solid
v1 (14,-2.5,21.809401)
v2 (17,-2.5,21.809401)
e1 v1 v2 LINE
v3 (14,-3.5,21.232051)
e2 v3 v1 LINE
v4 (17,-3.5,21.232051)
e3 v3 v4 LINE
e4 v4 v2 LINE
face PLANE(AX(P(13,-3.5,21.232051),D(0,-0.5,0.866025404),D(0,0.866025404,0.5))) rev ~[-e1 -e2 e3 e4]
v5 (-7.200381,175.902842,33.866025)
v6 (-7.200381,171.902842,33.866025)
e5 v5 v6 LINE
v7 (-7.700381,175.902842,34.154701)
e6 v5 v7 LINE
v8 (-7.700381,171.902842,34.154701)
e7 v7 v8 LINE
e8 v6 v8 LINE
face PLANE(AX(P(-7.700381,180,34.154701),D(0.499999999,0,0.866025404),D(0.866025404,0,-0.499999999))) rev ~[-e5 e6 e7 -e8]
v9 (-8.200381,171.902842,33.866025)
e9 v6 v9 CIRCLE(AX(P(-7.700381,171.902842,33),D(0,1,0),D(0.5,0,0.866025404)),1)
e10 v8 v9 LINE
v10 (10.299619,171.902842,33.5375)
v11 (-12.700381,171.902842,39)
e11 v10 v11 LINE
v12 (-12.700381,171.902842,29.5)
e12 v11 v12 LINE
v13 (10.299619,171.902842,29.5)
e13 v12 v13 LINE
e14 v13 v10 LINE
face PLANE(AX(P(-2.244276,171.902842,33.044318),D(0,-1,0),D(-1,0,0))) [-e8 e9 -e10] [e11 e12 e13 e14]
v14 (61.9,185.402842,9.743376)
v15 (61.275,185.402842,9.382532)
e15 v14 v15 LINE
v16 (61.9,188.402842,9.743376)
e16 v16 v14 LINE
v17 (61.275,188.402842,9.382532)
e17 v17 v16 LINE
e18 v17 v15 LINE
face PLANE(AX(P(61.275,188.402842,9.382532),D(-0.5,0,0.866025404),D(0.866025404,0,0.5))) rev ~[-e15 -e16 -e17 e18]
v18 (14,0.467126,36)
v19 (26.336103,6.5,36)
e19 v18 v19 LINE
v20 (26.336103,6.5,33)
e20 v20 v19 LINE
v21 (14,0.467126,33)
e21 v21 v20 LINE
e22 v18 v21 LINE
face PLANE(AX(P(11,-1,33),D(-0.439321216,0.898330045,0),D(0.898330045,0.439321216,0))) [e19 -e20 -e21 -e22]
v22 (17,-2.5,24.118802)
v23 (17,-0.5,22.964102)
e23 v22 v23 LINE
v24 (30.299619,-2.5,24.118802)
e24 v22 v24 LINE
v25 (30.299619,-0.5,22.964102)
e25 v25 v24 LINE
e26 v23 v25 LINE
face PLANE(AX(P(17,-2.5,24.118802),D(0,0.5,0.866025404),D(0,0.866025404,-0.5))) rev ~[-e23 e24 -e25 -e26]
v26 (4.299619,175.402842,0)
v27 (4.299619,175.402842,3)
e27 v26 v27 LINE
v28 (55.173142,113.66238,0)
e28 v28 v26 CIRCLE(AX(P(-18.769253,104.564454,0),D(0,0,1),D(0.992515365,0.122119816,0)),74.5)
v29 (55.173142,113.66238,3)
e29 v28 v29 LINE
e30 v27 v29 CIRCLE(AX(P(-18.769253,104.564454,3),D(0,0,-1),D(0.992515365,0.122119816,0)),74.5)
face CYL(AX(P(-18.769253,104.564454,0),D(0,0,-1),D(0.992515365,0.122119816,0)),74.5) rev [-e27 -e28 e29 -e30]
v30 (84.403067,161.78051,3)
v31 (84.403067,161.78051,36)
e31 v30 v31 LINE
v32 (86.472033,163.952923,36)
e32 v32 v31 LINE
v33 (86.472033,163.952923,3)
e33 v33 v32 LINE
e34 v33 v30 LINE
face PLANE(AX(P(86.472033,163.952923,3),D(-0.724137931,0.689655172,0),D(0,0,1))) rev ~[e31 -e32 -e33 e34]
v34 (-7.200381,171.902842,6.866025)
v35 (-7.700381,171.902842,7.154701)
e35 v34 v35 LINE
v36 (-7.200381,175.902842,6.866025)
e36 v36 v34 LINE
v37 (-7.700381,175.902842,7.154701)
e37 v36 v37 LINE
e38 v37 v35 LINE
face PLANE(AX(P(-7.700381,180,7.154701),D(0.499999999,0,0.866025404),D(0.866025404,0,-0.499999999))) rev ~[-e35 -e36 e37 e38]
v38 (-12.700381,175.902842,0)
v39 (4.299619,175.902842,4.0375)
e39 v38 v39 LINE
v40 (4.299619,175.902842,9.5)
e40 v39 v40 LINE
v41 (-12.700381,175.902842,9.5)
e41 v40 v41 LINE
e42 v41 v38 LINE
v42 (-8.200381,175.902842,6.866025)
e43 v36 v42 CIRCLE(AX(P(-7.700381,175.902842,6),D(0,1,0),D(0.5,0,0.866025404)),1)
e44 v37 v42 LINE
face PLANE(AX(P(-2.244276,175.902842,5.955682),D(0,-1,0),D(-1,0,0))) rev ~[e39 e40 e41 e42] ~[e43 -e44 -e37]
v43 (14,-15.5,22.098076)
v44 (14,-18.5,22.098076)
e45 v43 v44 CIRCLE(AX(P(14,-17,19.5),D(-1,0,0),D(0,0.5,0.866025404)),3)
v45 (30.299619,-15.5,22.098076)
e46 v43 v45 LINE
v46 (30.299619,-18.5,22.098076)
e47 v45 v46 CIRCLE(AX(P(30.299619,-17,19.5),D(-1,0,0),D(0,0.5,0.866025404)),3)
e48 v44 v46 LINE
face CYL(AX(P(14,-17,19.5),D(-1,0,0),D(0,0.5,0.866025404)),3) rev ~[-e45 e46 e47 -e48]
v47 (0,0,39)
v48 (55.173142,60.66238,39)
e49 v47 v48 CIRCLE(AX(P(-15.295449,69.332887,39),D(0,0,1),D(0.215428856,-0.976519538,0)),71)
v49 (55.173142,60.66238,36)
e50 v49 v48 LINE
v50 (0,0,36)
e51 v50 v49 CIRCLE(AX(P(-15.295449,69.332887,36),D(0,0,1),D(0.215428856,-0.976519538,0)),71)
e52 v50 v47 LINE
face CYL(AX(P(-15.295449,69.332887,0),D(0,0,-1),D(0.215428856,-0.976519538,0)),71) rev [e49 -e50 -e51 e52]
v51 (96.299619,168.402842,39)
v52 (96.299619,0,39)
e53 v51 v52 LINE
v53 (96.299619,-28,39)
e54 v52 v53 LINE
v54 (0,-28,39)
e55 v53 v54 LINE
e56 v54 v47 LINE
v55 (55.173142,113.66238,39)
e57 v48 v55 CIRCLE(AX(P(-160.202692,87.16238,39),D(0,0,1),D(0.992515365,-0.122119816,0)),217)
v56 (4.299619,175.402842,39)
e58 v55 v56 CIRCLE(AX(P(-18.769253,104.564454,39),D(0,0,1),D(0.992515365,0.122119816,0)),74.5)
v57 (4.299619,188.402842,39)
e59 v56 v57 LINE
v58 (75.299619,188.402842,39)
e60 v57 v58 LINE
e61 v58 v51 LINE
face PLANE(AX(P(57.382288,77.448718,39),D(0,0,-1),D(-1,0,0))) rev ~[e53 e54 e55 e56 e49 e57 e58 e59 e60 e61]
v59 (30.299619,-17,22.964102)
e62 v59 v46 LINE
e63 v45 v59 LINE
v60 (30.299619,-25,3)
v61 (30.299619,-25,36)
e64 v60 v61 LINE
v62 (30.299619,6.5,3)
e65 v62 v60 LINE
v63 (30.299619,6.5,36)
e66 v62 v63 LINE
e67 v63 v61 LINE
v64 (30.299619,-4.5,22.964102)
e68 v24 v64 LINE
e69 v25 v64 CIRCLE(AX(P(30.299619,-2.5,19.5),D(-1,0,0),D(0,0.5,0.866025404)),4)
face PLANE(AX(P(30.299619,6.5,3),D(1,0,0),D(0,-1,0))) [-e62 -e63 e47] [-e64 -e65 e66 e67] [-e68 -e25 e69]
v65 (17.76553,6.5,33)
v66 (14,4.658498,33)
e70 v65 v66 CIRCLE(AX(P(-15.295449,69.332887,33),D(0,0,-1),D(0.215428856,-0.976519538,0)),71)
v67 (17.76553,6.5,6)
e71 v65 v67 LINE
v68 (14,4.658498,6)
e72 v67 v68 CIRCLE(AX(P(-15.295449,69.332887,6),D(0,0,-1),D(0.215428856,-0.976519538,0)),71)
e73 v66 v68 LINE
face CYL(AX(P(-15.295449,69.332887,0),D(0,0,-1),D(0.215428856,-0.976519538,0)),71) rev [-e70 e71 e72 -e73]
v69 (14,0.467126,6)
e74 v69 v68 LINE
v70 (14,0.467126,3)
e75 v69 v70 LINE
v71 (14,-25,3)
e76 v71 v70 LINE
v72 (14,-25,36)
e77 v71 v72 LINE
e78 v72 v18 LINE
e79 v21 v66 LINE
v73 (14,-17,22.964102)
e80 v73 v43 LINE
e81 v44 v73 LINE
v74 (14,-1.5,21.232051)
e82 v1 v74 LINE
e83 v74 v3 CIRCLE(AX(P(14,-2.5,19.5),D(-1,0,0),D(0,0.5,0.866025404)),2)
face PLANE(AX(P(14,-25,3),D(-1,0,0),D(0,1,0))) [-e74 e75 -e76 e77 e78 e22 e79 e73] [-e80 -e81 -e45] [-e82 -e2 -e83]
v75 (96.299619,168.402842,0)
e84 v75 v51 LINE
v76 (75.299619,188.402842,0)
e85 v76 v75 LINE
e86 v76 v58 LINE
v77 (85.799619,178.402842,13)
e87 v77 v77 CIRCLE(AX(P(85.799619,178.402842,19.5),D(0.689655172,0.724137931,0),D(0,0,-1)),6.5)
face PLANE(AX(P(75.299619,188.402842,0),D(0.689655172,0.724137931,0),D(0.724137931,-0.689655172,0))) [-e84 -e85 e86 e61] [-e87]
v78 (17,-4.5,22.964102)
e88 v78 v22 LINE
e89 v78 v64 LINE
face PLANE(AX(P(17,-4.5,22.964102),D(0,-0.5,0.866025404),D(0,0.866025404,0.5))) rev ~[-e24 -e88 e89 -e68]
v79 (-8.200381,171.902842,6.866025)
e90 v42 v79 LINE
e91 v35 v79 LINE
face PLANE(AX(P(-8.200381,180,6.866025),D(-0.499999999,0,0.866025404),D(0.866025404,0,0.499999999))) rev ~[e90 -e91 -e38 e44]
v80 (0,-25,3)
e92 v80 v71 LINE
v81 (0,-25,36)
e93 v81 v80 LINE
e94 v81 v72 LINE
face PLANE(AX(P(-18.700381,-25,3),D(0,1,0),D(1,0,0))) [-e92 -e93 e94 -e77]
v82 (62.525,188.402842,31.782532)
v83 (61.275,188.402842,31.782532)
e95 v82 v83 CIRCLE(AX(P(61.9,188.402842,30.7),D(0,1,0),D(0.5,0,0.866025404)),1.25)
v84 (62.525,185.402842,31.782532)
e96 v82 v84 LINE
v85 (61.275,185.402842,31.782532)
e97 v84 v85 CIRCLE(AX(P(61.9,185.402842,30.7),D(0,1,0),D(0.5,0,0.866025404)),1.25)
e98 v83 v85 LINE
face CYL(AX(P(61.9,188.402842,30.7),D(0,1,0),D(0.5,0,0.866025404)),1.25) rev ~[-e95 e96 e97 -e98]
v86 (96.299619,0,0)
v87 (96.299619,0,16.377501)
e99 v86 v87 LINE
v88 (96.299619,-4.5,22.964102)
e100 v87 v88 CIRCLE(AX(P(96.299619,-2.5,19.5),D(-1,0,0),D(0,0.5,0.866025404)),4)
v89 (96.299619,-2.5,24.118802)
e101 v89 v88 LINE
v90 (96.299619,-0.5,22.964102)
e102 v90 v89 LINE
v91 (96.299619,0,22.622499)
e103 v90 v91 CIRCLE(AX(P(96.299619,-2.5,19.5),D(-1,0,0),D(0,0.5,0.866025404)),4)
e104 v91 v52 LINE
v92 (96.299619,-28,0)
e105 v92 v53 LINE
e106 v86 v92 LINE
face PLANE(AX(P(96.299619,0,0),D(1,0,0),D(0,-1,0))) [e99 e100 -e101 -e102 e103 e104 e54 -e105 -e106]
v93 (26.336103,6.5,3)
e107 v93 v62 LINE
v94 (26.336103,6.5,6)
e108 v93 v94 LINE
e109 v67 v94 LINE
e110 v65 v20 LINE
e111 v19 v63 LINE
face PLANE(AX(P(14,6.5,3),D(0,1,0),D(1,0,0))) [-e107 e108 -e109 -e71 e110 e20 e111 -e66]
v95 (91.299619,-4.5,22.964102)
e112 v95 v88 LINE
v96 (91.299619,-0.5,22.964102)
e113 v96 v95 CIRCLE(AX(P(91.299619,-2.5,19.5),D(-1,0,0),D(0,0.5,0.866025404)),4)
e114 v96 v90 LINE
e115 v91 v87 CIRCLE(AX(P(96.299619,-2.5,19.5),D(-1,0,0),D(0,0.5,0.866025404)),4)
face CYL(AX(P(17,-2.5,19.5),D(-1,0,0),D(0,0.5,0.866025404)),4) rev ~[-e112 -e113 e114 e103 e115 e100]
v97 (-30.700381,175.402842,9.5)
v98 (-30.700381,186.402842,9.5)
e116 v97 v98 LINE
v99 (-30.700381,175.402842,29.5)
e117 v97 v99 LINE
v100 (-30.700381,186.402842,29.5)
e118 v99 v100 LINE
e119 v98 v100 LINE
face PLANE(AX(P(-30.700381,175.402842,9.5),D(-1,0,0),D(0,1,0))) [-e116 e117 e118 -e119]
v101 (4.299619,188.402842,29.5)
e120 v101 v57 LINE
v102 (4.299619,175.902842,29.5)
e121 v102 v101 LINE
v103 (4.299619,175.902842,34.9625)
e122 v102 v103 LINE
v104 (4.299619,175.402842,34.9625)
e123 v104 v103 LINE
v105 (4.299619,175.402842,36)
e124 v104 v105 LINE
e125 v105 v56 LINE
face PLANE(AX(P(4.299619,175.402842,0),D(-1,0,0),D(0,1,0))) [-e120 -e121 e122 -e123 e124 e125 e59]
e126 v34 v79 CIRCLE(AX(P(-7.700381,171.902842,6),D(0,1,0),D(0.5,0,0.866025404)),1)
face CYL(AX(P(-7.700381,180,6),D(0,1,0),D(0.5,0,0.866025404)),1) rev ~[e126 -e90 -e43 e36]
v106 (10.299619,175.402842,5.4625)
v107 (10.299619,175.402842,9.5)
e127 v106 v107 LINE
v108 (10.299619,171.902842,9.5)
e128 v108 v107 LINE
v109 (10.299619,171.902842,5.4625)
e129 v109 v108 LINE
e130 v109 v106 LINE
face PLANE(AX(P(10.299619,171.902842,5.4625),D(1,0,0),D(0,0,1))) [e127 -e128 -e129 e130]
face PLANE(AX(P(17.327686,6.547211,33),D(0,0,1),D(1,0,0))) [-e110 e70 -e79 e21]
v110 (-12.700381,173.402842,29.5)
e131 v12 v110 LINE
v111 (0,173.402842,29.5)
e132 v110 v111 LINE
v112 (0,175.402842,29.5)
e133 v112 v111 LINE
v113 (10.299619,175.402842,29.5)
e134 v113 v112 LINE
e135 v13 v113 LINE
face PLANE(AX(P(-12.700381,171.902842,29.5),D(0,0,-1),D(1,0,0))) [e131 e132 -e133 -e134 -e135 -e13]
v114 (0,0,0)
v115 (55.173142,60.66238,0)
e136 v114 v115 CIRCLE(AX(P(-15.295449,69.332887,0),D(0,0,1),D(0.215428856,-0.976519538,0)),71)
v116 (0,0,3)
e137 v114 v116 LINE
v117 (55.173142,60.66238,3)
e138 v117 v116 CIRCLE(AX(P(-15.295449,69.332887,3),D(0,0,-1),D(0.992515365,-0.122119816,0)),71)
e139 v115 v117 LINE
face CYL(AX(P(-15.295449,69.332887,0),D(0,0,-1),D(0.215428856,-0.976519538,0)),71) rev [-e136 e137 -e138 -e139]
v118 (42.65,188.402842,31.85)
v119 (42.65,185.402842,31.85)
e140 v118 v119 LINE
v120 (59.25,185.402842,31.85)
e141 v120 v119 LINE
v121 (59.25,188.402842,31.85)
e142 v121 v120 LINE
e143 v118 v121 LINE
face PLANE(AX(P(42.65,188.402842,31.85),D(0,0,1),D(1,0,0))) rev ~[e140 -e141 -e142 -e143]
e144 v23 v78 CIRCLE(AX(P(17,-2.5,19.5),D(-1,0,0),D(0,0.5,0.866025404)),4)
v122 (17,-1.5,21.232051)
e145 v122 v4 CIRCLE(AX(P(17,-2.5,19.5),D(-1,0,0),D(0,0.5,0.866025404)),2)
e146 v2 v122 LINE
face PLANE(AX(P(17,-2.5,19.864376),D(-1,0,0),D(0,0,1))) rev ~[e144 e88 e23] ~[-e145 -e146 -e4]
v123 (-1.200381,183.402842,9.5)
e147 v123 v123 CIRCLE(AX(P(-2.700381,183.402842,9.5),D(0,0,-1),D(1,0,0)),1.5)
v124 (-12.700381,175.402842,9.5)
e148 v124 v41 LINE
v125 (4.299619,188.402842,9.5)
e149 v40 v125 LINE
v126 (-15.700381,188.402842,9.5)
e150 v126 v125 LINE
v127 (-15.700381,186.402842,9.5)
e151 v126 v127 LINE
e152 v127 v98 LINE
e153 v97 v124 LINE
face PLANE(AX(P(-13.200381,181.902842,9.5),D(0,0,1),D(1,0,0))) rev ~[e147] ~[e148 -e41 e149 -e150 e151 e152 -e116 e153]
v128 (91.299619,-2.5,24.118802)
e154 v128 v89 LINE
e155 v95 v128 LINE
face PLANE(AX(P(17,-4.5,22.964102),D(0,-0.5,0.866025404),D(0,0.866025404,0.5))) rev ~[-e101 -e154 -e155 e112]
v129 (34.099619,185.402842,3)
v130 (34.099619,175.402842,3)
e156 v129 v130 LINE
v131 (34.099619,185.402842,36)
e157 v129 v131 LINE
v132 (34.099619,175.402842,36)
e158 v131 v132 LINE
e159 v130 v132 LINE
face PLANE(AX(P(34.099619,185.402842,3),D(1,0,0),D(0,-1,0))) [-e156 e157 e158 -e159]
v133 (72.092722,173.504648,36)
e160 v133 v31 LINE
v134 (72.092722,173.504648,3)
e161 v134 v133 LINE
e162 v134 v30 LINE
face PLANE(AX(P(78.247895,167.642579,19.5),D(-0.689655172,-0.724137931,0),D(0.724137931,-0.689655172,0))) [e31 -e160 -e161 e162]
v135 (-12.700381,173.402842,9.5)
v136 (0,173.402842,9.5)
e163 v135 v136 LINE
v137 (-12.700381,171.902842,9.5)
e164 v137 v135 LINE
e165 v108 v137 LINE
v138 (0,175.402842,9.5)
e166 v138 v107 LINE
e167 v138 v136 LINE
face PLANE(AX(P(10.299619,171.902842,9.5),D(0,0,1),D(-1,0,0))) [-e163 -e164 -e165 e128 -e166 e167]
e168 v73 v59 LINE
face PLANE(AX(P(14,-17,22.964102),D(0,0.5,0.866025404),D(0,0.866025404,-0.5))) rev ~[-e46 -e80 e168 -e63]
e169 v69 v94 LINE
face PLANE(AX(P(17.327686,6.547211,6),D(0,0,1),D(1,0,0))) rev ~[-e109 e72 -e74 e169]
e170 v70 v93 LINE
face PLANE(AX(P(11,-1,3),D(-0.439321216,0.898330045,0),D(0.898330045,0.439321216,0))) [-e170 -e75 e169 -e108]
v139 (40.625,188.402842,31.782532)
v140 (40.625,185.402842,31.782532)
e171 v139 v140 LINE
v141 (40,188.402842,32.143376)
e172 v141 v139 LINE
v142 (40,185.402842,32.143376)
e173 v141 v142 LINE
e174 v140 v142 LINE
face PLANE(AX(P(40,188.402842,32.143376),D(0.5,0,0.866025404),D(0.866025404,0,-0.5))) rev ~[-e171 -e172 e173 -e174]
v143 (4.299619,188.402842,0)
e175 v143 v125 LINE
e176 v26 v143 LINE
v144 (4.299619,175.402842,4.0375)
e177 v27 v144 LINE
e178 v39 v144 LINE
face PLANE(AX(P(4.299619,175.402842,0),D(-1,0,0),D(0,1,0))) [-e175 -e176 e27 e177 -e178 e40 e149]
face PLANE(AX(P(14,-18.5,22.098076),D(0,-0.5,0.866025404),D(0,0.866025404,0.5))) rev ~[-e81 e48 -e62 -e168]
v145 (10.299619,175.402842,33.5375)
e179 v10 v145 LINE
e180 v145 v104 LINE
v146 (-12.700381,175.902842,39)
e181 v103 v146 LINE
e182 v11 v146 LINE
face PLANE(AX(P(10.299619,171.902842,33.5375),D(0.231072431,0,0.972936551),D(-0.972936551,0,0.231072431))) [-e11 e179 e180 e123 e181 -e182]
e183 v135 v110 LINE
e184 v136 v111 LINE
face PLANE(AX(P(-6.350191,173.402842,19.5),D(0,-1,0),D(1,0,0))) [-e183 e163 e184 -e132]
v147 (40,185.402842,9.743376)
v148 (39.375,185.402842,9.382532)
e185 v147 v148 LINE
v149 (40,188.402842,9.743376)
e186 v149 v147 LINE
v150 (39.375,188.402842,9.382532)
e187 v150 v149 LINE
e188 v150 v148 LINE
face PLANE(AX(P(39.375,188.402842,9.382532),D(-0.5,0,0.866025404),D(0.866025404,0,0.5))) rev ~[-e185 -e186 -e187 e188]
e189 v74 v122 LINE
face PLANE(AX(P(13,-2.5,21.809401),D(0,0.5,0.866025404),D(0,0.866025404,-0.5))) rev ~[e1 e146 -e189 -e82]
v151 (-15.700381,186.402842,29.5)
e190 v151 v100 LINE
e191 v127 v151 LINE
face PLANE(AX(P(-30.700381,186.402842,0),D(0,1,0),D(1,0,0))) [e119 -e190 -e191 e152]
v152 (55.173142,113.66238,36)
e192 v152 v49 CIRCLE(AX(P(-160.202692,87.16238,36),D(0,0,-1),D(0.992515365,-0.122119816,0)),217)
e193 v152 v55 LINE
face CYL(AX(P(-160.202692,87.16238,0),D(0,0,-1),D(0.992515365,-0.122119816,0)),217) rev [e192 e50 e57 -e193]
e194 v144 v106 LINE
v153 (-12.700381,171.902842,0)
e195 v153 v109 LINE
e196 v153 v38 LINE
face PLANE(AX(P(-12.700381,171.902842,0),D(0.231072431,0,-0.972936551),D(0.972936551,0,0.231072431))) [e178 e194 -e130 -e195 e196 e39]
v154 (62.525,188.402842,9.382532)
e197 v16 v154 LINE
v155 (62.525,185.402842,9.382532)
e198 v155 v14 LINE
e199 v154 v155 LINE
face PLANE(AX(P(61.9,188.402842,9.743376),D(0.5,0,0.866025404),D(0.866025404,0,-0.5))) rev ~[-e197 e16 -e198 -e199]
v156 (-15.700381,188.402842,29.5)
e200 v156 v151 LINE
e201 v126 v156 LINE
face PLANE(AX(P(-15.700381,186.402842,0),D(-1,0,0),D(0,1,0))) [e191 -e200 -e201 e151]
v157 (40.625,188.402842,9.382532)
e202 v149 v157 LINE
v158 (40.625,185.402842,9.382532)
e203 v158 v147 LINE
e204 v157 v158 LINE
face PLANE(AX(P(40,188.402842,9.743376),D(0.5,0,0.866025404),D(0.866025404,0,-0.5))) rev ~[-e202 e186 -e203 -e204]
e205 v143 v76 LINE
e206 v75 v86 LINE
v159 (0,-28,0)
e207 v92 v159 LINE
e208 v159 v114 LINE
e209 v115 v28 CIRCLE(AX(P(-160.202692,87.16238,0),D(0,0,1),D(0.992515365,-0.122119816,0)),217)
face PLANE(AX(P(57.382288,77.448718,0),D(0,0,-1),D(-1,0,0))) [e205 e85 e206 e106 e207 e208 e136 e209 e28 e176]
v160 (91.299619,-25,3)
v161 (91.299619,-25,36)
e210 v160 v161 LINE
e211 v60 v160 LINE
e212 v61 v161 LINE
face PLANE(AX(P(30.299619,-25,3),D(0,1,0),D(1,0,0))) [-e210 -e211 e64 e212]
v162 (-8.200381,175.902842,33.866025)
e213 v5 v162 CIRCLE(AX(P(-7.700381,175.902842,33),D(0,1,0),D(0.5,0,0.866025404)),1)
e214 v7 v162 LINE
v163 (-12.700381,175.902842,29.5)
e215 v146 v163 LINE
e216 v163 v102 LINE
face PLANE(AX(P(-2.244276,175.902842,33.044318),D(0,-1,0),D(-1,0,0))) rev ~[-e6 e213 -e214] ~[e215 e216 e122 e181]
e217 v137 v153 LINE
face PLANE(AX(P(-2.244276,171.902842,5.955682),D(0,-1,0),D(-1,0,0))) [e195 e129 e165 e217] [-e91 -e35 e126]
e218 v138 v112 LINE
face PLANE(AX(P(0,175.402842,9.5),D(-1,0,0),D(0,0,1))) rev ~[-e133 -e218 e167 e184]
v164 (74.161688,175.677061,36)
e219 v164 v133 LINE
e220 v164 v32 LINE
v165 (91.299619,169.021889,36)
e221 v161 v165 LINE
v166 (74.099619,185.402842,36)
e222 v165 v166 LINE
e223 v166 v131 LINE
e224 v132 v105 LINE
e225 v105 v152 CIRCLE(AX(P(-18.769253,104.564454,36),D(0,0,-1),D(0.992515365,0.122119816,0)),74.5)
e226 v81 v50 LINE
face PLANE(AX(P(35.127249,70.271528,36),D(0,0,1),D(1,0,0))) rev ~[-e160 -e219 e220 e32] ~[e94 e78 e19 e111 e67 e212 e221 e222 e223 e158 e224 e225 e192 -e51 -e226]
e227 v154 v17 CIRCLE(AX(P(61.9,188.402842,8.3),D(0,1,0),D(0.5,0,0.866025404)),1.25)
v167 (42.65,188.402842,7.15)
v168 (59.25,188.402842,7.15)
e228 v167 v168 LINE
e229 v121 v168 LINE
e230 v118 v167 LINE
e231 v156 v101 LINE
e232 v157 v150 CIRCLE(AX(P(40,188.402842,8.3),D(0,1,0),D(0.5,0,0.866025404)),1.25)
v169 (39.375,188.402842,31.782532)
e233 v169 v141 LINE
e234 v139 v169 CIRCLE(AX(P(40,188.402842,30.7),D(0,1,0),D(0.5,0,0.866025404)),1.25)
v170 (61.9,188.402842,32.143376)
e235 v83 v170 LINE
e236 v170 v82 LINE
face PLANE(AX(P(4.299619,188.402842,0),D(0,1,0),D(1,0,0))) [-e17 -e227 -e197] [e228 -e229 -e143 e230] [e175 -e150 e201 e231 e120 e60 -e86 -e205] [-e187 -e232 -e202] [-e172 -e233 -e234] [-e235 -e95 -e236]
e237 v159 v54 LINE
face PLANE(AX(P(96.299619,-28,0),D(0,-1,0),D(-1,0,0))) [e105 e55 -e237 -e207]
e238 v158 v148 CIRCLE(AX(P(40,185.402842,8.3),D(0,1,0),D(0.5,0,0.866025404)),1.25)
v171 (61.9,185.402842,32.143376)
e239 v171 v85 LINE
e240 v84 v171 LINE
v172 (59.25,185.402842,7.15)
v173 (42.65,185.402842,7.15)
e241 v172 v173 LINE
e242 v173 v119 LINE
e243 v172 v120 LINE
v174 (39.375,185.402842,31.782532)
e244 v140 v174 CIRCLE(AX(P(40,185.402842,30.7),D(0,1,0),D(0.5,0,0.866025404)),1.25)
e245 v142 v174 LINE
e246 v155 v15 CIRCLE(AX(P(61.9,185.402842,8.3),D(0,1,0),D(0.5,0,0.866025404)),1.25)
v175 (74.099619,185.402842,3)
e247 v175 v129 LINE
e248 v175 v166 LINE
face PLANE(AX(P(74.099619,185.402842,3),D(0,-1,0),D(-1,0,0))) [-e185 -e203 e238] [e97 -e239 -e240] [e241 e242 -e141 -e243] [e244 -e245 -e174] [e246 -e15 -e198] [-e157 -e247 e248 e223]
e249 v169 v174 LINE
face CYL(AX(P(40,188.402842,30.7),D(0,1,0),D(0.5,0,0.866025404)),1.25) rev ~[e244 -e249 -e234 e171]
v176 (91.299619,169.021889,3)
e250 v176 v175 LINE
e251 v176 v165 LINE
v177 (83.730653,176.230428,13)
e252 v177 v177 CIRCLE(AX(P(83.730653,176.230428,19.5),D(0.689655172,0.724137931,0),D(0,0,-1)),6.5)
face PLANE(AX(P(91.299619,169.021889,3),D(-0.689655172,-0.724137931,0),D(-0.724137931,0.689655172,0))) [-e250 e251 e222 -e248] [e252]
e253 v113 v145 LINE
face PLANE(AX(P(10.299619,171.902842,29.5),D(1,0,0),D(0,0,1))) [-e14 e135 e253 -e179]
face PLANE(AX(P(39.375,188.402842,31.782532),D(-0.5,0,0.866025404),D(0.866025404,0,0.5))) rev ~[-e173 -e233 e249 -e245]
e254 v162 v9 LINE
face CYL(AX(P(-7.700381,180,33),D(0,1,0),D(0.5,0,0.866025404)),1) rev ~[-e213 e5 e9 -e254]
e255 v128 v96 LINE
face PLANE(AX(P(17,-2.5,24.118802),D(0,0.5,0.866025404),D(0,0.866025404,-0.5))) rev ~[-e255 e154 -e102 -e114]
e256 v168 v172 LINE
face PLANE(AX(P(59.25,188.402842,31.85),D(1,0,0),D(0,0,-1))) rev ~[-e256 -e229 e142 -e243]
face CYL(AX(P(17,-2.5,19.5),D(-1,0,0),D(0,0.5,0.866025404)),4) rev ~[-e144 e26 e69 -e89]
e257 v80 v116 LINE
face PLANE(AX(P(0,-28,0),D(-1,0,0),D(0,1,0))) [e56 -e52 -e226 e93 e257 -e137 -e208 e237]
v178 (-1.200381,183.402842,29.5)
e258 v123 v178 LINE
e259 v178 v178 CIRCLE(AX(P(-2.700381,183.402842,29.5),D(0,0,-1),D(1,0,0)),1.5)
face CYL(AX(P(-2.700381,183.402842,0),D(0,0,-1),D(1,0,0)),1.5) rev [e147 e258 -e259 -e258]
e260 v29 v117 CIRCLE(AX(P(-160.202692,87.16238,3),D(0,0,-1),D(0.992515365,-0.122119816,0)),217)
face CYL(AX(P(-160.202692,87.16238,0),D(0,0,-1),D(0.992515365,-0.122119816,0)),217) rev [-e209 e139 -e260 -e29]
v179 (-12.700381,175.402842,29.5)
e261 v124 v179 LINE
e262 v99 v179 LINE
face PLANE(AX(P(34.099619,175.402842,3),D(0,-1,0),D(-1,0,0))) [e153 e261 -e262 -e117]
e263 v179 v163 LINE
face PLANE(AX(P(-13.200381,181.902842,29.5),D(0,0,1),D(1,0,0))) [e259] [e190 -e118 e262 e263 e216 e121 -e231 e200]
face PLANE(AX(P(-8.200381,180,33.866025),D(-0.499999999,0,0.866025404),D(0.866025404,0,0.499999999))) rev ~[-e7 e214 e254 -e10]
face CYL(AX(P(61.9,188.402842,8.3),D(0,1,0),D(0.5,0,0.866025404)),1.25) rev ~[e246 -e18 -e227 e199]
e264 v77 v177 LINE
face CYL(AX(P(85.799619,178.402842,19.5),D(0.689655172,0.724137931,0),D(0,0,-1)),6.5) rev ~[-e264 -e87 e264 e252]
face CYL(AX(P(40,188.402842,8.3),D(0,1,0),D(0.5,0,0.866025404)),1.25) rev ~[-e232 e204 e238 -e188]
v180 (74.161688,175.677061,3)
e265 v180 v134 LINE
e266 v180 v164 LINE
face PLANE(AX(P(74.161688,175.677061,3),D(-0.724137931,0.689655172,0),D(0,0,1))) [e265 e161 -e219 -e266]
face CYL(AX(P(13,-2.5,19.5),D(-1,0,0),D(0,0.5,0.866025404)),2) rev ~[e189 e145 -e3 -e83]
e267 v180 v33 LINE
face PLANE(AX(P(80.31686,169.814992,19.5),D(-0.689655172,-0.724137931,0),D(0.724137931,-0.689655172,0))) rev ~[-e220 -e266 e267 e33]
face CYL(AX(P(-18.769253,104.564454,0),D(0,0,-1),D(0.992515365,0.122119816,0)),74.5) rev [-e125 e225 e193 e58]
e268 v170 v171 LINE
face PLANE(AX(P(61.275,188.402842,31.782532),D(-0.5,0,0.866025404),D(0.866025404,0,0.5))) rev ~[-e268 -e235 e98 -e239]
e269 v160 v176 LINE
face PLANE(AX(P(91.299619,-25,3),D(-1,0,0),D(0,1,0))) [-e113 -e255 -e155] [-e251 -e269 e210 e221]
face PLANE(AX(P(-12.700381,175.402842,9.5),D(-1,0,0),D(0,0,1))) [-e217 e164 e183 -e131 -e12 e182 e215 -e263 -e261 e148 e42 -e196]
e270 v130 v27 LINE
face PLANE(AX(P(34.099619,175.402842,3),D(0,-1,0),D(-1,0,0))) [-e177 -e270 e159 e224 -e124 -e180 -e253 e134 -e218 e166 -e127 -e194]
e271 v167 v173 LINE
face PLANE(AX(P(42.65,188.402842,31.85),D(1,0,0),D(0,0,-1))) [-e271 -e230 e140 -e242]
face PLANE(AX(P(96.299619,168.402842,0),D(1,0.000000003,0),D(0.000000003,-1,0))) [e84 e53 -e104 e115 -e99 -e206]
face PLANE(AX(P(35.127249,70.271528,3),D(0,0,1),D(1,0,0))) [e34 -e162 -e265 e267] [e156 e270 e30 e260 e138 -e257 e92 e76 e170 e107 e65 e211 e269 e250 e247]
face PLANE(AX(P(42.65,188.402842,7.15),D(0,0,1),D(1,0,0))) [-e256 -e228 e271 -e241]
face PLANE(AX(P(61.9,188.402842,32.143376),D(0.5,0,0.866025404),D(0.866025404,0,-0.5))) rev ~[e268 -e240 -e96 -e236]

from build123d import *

# Parameters (mm, degrees)
EXTRUDE_6_DEPTH      = 39
CUT_EXTRUDE_START    = 3
CUT_EXTRUDE_2_DEPTH  = 33
EXTRUDE_START        = 9.5
SKETCH_7_W           = 35
SKETCH_7_H           = 13
EXTRUDE_7_DEPTH      = 20
EXTRUDE_START_2      = -16.5
EXTRUDE_8_DEPTH      = 4
CUT_EXTRUDE_START_2  = 180
CUT_EXTRUDE_3_DEPTH  = 10
SKETCH_13_R          = 1.5
CUT_EXTRUDE_4_DEPTH  = 30
SKETCH_14_W          = 15
SKETCH_14_H          = 2
CUT_EXTRUDE_5_DEPTH  = 30
CUT_EXTRUDE_START_3  = 17
CUT_EXTRUDE_7_DEPTH  = 85
CUT_EXTRUDE_START_4  = 13
CUT_EXTRUDE_9_DEPTH  = 5
SKETCH_20_W          = 16.6
SKETCH_20_H          = 24.7
CUT_EXTRUDE_10_DEPTH = 5
SKETCH_21_R          = 6.5
CUT_EXTRUDE_11_DEPTH = 5
CUT_EXTRUDE_12_DEPTH = 17
CUT_EXTRUDE_13_DEPTH = 3
CUT_EXTRUDE_START_5  = 30
CUT_EXTRUDE_14_DEPTH = 3
SKETCH_26_W          = 12.700381469
SKETCH_26_H          = 20
EXTRUDE_9_DEPTH      = 2
EXTRUDE_START_3      = 7
SKETCH_27_W          = 17
SKETCH_27_H          = 33
EXTRUDE_10_DEPTH     = 3


with BuildPart() as part:
    # Эскиз1 → Бобышка-Вытянуть6 (new body)
    with BuildSketch(Plane.XY):
        with BuildLine():
            Line((4.299618531, 175.402841826), (4.299618531, 188.402841826))
            Line((4.299618531, 188.402841826), (75.299618531, 188.402841826))
            Line((75.299618531, 188.402841826), (96.299618531, 168.402841826))
            Line((96.299618531, 168.402841826), (96.299619, 0))
            Line((96.299619, 0), (96.299619, -28))
            Line((96.299619, -28), (0, -28))
            Line((0, -28), (0, 0))
            ThreePointArc((0, 0), (37.229295141, 21.561020186), (55.173142182, 60.662380285))
            ThreePointArc((55.173142182, 60.662380285), (56.797307883, 87.162380285), (55.173142182, 113.662380285))
            ThreePointArc((55.173142182, 113.662380285), (38.726552267, 151.940422917), (4.299618531, 175.402841826))
        make_face()
    extrude(amount=EXTRUDE_6_DEPTH)

    # Эскиз5 → Вырез-Вытянуть2 (cut)
    with BuildSketch(Plane.XY.offset(CUT_EXTRUDE_START)):
        Polygon((34.099618531, 175.402841826), (4.299618531, 175.402841826), (4.299618531, 169.021888999), (-18.700381469, 169.021888999), (-18.700381469, -25), (14, -25), (14, 6.5), (30.299619, 6.5), (30.299619, -25), (91.299619, -25), (91.299619, 169.021888999), (74.099618531, 185.402841826), (34.099618531, 185.402841826), align=None)
    extrude(amount=CUT_EXTRUDE_2_DEPTH, mode=Mode.SUBTRACT)

    # Эскиз7 → Бобышка-Вытянуть7 (add)
    with BuildSketch(Plane.XY.offset(EXTRUDE_START)):
        with Locations((-13.200381469, 181.902841826)):
            Rectangle(SKETCH_7_W, SKETCH_7_H)
    extrude(amount=EXTRUDE_7_DEPTH)

    # Эскиз22 → Бобышка-Вытянуть8 (add)
    with BuildSketch(Plane(origin=(0, 188.402841826, 0), x_dir=(1, 0, 0), z_dir=(0, 1, 0)).offset(EXTRUDE_START_2)):
        Polygon((10.299618531, -29.5), (10.299618531, -33.5375), (-12.700381469, -39), (-12.700381469, -29.5), align=None)
        Polygon((-12.700381469, -9.5), (-12.700381469, 0), (10.299618531, -5.4625), (10.299618531, -9.5), align=None)
    extrude(amount=EXTRUDE_8_DEPTH)

    # Эскиз12 → Вырез-Вытянуть3 (cut)
    with BuildSketch(Plane(origin=(0, 0, 0), x_dir=(1, 0, 0), z_dir=(0, 1, 0)).offset(CUT_EXTRUDE_START_2)):
        with BuildLine():
            Line((-7.700381469, -34.154700538), (-7.200381469, -33.866025404))
            ThreePointArc((-7.200381469, -33.866025404), (-7.700381469, -32), (-8.200381469, -33.866025404))
            Line((-8.200381469, -33.866025404), (-7.700381469, -34.154700538))
        make_face()
        with BuildLine():
            Line((-7.700381469, -7.154700538), (-7.200381469, -6.866025404))
            ThreePointArc((-7.200381469, -6.866025404), (-7.700381469, -5), (-8.200381469, -6.866025404))
            Line((-8.200381469, -6.866025404), (-7.700381469, -7.154700538))
        make_face()
    extrude(amount=-CUT_EXTRUDE_3_DEPTH, mode=Mode.SUBTRACT)

    # Эскиз13 → Вырез-Вытянуть4 (cut)
    with BuildSketch(Plane.XY):
        with Locations((-2.700381469, 183.402841826)):
            Circle(SKETCH_13_R)
    extrude(amount=CUT_EXTRUDE_4_DEPTH, mode=Mode.SUBTRACT)

    # Эскиз14 → Вырез-Вытянуть5 (cut)
    with BuildSketch(Plane.XY):
        with Locations((-23.200381469, 187.402841826)):
            Rectangle(SKETCH_14_W, SKETCH_14_H)
    extrude(amount=CUT_EXTRUDE_5_DEPTH, mode=Mode.SUBTRACT)

    # Эскиз17 → Вырез-Вытянуть7 (cut)
    with BuildSketch(Plane(origin=(0, 0, 0), x_dir=(0, 0, -1), z_dir=(1, 0, 0)).offset(CUT_EXTRUDE_START_3)):
        with BuildLine():
            Line((-24.118802154, -2.5), (-22.964101615, -0.5))
            ThreePointArc((-22.964101615, -0.5), (-15.5, -2.5), (-22.964101615, -4.5))
            Line((-22.964101615, -4.5), (-24.118802154, -2.5))
        make_face()
    extrude(amount=CUT_EXTRUDE_7_DEPTH, mode=Mode.SUBTRACT)

    # Эскиз18 → Вырез-Вытянуть9 (cut)
    with BuildSketch(Plane(origin=(0, 0, 0), x_dir=(0, 0, -1), z_dir=(1, 0, 0)).offset(CUT_EXTRUDE_START_4)):
        with BuildLine():
            Line((-21.809401077, -2.5), (-21.232050808, -1.5))
            ThreePointArc((-21.232050808, -1.5), (-17.5, -2.5), (-21.232050808, -3.5))
            Line((-21.232050808, -3.5), (-21.809401077, -2.5))
        make_face()
    extrude(amount=CUT_EXTRUDE_9_DEPTH, mode=Mode.SUBTRACT)

    # Эскиз20 → Вырез-Вытянуть10 (cut)
    with BuildSketch(Plane(origin=(0, 188.402841826, 0), x_dir=(1, 0, 0), z_dir=(0, 1, 0))):
        with Locations((50.95, -19.5)):
            Rectangle(SKETCH_20_W, SKETCH_20_H)
        with BuildLine():
            Line((40, -32.143375673), (40.625, -31.782531755))
            ThreePointArc((40.625, -31.782531755), (40, -29.45), (39.375, -31.782531755))
            Line((39.375, -31.782531755), (40, -32.143375673))
        make_face()
        with BuildLine():
            Line((40, -9.743375673), (40.625, -9.382531755))
            ThreePointArc((40.625, -9.382531755), (40, -7.05), (39.375, -9.382531755))
            Line((39.375, -9.382531755), (40, -9.743375673))
        make_face()
        with BuildLine():
            Line((61.9, -9.743375673), (62.525, -9.382531755))
            ThreePointArc((62.525, -9.382531755), (61.9, -7.05), (61.275, -9.382531755))
            Line((61.275, -9.382531755), (61.9, -9.743375673))
        make_face()
        with BuildLine():
            Line((61.9, -32.143375673), (62.525, -31.782531755))
            ThreePointArc((62.525, -31.782531755), (61.9, -29.45), (61.275, -31.782531755))
            Line((61.275, -31.782531755), (61.9, -32.143375673))
        make_face()
    extrude(amount=-CUT_EXTRUDE_10_DEPTH, mode=Mode.SUBTRACT)

    # Эскиз21 → Вырез-Вытянуть11 (cut)
    with BuildSketch(Plane(origin=(129.903734815, 136.398921556, 0), x_dir=(0, 0, -1), z_dir=(0.689655172, 0.724137931, 0))):
        with Locations((-19.5, 60.905684392)):
            Circle(SKETCH_21_R)
    extrude(amount=-CUT_EXTRUDE_11_DEPTH, mode=Mode.SUBTRACT)

    # Эскиз23 → Вырез-Вытянуть12 (cut)
    with BuildSketch(Plane.ZY.offset(-14)):
        with BuildLine():
            Line((22.964101615, -17), (22.098076211, -15.5))
            ThreePointArc((22.098076211, -15.5), (16.5, -17), (22.098076211, -18.5))
            Line((22.098076211, -18.5), (22.964101615, -17))
        make_face()
    extrude(amount=-CUT_EXTRUDE_12_DEPTH, mode=Mode.SUBTRACT)

    # Эскиз24 → Вырез-Вытянуть13 (cut)
    with BuildSketch(Plane.XY.offset(3)):
        Polygon((11, -1), (27.169940805, 6.907781886), (23.655371078, 14.094422244), (7.485430273, 6.186640358), align=None)
    extrude(amount=CUT_EXTRUDE_13_DEPTH, mode=Mode.SUBTRACT)

    # Эскиз25 → Вырез-Вытянуть14 (cut)
    with BuildSketch(Plane.XY.offset(3).offset(CUT_EXTRUDE_START_5)):
        Polygon((11, -1), (27.169940805, 6.907781886), (23.655371078, 14.094422244), (7.485430273, 6.186640358), align=None)
    extrude(amount=CUT_EXTRUDE_14_DEPTH, mode=Mode.SUBTRACT)

    # Эскиз26 → Бобышка-Вытянуть9 (add)
    with BuildSketch(Plane.XZ.offset(-175.402841826)):
        with Locations((-6.350190735, 19.5)):
            Rectangle(SKETCH_26_W, SKETCH_26_H)
    extrude(amount=EXTRUDE_9_DEPTH)

    # Эскиз27 → Бобышка-Вытянуть10 (add)
    with BuildSketch(Plane(origin=(127.834769298, 134.226507763, 0), x_dir=(0.724137931, -0.689655172, 0), z_dir=(-0.689655172, -0.724137931, 0)).offset(EXTRUDE_START_3)):
        with Locations((-58.953302792, 19.5)):
            Rectangle(SKETCH_27_W, SKETCH_27_H)
    extrude(amount=EXTRUDE_10_DEPTH)


solid = part.part
